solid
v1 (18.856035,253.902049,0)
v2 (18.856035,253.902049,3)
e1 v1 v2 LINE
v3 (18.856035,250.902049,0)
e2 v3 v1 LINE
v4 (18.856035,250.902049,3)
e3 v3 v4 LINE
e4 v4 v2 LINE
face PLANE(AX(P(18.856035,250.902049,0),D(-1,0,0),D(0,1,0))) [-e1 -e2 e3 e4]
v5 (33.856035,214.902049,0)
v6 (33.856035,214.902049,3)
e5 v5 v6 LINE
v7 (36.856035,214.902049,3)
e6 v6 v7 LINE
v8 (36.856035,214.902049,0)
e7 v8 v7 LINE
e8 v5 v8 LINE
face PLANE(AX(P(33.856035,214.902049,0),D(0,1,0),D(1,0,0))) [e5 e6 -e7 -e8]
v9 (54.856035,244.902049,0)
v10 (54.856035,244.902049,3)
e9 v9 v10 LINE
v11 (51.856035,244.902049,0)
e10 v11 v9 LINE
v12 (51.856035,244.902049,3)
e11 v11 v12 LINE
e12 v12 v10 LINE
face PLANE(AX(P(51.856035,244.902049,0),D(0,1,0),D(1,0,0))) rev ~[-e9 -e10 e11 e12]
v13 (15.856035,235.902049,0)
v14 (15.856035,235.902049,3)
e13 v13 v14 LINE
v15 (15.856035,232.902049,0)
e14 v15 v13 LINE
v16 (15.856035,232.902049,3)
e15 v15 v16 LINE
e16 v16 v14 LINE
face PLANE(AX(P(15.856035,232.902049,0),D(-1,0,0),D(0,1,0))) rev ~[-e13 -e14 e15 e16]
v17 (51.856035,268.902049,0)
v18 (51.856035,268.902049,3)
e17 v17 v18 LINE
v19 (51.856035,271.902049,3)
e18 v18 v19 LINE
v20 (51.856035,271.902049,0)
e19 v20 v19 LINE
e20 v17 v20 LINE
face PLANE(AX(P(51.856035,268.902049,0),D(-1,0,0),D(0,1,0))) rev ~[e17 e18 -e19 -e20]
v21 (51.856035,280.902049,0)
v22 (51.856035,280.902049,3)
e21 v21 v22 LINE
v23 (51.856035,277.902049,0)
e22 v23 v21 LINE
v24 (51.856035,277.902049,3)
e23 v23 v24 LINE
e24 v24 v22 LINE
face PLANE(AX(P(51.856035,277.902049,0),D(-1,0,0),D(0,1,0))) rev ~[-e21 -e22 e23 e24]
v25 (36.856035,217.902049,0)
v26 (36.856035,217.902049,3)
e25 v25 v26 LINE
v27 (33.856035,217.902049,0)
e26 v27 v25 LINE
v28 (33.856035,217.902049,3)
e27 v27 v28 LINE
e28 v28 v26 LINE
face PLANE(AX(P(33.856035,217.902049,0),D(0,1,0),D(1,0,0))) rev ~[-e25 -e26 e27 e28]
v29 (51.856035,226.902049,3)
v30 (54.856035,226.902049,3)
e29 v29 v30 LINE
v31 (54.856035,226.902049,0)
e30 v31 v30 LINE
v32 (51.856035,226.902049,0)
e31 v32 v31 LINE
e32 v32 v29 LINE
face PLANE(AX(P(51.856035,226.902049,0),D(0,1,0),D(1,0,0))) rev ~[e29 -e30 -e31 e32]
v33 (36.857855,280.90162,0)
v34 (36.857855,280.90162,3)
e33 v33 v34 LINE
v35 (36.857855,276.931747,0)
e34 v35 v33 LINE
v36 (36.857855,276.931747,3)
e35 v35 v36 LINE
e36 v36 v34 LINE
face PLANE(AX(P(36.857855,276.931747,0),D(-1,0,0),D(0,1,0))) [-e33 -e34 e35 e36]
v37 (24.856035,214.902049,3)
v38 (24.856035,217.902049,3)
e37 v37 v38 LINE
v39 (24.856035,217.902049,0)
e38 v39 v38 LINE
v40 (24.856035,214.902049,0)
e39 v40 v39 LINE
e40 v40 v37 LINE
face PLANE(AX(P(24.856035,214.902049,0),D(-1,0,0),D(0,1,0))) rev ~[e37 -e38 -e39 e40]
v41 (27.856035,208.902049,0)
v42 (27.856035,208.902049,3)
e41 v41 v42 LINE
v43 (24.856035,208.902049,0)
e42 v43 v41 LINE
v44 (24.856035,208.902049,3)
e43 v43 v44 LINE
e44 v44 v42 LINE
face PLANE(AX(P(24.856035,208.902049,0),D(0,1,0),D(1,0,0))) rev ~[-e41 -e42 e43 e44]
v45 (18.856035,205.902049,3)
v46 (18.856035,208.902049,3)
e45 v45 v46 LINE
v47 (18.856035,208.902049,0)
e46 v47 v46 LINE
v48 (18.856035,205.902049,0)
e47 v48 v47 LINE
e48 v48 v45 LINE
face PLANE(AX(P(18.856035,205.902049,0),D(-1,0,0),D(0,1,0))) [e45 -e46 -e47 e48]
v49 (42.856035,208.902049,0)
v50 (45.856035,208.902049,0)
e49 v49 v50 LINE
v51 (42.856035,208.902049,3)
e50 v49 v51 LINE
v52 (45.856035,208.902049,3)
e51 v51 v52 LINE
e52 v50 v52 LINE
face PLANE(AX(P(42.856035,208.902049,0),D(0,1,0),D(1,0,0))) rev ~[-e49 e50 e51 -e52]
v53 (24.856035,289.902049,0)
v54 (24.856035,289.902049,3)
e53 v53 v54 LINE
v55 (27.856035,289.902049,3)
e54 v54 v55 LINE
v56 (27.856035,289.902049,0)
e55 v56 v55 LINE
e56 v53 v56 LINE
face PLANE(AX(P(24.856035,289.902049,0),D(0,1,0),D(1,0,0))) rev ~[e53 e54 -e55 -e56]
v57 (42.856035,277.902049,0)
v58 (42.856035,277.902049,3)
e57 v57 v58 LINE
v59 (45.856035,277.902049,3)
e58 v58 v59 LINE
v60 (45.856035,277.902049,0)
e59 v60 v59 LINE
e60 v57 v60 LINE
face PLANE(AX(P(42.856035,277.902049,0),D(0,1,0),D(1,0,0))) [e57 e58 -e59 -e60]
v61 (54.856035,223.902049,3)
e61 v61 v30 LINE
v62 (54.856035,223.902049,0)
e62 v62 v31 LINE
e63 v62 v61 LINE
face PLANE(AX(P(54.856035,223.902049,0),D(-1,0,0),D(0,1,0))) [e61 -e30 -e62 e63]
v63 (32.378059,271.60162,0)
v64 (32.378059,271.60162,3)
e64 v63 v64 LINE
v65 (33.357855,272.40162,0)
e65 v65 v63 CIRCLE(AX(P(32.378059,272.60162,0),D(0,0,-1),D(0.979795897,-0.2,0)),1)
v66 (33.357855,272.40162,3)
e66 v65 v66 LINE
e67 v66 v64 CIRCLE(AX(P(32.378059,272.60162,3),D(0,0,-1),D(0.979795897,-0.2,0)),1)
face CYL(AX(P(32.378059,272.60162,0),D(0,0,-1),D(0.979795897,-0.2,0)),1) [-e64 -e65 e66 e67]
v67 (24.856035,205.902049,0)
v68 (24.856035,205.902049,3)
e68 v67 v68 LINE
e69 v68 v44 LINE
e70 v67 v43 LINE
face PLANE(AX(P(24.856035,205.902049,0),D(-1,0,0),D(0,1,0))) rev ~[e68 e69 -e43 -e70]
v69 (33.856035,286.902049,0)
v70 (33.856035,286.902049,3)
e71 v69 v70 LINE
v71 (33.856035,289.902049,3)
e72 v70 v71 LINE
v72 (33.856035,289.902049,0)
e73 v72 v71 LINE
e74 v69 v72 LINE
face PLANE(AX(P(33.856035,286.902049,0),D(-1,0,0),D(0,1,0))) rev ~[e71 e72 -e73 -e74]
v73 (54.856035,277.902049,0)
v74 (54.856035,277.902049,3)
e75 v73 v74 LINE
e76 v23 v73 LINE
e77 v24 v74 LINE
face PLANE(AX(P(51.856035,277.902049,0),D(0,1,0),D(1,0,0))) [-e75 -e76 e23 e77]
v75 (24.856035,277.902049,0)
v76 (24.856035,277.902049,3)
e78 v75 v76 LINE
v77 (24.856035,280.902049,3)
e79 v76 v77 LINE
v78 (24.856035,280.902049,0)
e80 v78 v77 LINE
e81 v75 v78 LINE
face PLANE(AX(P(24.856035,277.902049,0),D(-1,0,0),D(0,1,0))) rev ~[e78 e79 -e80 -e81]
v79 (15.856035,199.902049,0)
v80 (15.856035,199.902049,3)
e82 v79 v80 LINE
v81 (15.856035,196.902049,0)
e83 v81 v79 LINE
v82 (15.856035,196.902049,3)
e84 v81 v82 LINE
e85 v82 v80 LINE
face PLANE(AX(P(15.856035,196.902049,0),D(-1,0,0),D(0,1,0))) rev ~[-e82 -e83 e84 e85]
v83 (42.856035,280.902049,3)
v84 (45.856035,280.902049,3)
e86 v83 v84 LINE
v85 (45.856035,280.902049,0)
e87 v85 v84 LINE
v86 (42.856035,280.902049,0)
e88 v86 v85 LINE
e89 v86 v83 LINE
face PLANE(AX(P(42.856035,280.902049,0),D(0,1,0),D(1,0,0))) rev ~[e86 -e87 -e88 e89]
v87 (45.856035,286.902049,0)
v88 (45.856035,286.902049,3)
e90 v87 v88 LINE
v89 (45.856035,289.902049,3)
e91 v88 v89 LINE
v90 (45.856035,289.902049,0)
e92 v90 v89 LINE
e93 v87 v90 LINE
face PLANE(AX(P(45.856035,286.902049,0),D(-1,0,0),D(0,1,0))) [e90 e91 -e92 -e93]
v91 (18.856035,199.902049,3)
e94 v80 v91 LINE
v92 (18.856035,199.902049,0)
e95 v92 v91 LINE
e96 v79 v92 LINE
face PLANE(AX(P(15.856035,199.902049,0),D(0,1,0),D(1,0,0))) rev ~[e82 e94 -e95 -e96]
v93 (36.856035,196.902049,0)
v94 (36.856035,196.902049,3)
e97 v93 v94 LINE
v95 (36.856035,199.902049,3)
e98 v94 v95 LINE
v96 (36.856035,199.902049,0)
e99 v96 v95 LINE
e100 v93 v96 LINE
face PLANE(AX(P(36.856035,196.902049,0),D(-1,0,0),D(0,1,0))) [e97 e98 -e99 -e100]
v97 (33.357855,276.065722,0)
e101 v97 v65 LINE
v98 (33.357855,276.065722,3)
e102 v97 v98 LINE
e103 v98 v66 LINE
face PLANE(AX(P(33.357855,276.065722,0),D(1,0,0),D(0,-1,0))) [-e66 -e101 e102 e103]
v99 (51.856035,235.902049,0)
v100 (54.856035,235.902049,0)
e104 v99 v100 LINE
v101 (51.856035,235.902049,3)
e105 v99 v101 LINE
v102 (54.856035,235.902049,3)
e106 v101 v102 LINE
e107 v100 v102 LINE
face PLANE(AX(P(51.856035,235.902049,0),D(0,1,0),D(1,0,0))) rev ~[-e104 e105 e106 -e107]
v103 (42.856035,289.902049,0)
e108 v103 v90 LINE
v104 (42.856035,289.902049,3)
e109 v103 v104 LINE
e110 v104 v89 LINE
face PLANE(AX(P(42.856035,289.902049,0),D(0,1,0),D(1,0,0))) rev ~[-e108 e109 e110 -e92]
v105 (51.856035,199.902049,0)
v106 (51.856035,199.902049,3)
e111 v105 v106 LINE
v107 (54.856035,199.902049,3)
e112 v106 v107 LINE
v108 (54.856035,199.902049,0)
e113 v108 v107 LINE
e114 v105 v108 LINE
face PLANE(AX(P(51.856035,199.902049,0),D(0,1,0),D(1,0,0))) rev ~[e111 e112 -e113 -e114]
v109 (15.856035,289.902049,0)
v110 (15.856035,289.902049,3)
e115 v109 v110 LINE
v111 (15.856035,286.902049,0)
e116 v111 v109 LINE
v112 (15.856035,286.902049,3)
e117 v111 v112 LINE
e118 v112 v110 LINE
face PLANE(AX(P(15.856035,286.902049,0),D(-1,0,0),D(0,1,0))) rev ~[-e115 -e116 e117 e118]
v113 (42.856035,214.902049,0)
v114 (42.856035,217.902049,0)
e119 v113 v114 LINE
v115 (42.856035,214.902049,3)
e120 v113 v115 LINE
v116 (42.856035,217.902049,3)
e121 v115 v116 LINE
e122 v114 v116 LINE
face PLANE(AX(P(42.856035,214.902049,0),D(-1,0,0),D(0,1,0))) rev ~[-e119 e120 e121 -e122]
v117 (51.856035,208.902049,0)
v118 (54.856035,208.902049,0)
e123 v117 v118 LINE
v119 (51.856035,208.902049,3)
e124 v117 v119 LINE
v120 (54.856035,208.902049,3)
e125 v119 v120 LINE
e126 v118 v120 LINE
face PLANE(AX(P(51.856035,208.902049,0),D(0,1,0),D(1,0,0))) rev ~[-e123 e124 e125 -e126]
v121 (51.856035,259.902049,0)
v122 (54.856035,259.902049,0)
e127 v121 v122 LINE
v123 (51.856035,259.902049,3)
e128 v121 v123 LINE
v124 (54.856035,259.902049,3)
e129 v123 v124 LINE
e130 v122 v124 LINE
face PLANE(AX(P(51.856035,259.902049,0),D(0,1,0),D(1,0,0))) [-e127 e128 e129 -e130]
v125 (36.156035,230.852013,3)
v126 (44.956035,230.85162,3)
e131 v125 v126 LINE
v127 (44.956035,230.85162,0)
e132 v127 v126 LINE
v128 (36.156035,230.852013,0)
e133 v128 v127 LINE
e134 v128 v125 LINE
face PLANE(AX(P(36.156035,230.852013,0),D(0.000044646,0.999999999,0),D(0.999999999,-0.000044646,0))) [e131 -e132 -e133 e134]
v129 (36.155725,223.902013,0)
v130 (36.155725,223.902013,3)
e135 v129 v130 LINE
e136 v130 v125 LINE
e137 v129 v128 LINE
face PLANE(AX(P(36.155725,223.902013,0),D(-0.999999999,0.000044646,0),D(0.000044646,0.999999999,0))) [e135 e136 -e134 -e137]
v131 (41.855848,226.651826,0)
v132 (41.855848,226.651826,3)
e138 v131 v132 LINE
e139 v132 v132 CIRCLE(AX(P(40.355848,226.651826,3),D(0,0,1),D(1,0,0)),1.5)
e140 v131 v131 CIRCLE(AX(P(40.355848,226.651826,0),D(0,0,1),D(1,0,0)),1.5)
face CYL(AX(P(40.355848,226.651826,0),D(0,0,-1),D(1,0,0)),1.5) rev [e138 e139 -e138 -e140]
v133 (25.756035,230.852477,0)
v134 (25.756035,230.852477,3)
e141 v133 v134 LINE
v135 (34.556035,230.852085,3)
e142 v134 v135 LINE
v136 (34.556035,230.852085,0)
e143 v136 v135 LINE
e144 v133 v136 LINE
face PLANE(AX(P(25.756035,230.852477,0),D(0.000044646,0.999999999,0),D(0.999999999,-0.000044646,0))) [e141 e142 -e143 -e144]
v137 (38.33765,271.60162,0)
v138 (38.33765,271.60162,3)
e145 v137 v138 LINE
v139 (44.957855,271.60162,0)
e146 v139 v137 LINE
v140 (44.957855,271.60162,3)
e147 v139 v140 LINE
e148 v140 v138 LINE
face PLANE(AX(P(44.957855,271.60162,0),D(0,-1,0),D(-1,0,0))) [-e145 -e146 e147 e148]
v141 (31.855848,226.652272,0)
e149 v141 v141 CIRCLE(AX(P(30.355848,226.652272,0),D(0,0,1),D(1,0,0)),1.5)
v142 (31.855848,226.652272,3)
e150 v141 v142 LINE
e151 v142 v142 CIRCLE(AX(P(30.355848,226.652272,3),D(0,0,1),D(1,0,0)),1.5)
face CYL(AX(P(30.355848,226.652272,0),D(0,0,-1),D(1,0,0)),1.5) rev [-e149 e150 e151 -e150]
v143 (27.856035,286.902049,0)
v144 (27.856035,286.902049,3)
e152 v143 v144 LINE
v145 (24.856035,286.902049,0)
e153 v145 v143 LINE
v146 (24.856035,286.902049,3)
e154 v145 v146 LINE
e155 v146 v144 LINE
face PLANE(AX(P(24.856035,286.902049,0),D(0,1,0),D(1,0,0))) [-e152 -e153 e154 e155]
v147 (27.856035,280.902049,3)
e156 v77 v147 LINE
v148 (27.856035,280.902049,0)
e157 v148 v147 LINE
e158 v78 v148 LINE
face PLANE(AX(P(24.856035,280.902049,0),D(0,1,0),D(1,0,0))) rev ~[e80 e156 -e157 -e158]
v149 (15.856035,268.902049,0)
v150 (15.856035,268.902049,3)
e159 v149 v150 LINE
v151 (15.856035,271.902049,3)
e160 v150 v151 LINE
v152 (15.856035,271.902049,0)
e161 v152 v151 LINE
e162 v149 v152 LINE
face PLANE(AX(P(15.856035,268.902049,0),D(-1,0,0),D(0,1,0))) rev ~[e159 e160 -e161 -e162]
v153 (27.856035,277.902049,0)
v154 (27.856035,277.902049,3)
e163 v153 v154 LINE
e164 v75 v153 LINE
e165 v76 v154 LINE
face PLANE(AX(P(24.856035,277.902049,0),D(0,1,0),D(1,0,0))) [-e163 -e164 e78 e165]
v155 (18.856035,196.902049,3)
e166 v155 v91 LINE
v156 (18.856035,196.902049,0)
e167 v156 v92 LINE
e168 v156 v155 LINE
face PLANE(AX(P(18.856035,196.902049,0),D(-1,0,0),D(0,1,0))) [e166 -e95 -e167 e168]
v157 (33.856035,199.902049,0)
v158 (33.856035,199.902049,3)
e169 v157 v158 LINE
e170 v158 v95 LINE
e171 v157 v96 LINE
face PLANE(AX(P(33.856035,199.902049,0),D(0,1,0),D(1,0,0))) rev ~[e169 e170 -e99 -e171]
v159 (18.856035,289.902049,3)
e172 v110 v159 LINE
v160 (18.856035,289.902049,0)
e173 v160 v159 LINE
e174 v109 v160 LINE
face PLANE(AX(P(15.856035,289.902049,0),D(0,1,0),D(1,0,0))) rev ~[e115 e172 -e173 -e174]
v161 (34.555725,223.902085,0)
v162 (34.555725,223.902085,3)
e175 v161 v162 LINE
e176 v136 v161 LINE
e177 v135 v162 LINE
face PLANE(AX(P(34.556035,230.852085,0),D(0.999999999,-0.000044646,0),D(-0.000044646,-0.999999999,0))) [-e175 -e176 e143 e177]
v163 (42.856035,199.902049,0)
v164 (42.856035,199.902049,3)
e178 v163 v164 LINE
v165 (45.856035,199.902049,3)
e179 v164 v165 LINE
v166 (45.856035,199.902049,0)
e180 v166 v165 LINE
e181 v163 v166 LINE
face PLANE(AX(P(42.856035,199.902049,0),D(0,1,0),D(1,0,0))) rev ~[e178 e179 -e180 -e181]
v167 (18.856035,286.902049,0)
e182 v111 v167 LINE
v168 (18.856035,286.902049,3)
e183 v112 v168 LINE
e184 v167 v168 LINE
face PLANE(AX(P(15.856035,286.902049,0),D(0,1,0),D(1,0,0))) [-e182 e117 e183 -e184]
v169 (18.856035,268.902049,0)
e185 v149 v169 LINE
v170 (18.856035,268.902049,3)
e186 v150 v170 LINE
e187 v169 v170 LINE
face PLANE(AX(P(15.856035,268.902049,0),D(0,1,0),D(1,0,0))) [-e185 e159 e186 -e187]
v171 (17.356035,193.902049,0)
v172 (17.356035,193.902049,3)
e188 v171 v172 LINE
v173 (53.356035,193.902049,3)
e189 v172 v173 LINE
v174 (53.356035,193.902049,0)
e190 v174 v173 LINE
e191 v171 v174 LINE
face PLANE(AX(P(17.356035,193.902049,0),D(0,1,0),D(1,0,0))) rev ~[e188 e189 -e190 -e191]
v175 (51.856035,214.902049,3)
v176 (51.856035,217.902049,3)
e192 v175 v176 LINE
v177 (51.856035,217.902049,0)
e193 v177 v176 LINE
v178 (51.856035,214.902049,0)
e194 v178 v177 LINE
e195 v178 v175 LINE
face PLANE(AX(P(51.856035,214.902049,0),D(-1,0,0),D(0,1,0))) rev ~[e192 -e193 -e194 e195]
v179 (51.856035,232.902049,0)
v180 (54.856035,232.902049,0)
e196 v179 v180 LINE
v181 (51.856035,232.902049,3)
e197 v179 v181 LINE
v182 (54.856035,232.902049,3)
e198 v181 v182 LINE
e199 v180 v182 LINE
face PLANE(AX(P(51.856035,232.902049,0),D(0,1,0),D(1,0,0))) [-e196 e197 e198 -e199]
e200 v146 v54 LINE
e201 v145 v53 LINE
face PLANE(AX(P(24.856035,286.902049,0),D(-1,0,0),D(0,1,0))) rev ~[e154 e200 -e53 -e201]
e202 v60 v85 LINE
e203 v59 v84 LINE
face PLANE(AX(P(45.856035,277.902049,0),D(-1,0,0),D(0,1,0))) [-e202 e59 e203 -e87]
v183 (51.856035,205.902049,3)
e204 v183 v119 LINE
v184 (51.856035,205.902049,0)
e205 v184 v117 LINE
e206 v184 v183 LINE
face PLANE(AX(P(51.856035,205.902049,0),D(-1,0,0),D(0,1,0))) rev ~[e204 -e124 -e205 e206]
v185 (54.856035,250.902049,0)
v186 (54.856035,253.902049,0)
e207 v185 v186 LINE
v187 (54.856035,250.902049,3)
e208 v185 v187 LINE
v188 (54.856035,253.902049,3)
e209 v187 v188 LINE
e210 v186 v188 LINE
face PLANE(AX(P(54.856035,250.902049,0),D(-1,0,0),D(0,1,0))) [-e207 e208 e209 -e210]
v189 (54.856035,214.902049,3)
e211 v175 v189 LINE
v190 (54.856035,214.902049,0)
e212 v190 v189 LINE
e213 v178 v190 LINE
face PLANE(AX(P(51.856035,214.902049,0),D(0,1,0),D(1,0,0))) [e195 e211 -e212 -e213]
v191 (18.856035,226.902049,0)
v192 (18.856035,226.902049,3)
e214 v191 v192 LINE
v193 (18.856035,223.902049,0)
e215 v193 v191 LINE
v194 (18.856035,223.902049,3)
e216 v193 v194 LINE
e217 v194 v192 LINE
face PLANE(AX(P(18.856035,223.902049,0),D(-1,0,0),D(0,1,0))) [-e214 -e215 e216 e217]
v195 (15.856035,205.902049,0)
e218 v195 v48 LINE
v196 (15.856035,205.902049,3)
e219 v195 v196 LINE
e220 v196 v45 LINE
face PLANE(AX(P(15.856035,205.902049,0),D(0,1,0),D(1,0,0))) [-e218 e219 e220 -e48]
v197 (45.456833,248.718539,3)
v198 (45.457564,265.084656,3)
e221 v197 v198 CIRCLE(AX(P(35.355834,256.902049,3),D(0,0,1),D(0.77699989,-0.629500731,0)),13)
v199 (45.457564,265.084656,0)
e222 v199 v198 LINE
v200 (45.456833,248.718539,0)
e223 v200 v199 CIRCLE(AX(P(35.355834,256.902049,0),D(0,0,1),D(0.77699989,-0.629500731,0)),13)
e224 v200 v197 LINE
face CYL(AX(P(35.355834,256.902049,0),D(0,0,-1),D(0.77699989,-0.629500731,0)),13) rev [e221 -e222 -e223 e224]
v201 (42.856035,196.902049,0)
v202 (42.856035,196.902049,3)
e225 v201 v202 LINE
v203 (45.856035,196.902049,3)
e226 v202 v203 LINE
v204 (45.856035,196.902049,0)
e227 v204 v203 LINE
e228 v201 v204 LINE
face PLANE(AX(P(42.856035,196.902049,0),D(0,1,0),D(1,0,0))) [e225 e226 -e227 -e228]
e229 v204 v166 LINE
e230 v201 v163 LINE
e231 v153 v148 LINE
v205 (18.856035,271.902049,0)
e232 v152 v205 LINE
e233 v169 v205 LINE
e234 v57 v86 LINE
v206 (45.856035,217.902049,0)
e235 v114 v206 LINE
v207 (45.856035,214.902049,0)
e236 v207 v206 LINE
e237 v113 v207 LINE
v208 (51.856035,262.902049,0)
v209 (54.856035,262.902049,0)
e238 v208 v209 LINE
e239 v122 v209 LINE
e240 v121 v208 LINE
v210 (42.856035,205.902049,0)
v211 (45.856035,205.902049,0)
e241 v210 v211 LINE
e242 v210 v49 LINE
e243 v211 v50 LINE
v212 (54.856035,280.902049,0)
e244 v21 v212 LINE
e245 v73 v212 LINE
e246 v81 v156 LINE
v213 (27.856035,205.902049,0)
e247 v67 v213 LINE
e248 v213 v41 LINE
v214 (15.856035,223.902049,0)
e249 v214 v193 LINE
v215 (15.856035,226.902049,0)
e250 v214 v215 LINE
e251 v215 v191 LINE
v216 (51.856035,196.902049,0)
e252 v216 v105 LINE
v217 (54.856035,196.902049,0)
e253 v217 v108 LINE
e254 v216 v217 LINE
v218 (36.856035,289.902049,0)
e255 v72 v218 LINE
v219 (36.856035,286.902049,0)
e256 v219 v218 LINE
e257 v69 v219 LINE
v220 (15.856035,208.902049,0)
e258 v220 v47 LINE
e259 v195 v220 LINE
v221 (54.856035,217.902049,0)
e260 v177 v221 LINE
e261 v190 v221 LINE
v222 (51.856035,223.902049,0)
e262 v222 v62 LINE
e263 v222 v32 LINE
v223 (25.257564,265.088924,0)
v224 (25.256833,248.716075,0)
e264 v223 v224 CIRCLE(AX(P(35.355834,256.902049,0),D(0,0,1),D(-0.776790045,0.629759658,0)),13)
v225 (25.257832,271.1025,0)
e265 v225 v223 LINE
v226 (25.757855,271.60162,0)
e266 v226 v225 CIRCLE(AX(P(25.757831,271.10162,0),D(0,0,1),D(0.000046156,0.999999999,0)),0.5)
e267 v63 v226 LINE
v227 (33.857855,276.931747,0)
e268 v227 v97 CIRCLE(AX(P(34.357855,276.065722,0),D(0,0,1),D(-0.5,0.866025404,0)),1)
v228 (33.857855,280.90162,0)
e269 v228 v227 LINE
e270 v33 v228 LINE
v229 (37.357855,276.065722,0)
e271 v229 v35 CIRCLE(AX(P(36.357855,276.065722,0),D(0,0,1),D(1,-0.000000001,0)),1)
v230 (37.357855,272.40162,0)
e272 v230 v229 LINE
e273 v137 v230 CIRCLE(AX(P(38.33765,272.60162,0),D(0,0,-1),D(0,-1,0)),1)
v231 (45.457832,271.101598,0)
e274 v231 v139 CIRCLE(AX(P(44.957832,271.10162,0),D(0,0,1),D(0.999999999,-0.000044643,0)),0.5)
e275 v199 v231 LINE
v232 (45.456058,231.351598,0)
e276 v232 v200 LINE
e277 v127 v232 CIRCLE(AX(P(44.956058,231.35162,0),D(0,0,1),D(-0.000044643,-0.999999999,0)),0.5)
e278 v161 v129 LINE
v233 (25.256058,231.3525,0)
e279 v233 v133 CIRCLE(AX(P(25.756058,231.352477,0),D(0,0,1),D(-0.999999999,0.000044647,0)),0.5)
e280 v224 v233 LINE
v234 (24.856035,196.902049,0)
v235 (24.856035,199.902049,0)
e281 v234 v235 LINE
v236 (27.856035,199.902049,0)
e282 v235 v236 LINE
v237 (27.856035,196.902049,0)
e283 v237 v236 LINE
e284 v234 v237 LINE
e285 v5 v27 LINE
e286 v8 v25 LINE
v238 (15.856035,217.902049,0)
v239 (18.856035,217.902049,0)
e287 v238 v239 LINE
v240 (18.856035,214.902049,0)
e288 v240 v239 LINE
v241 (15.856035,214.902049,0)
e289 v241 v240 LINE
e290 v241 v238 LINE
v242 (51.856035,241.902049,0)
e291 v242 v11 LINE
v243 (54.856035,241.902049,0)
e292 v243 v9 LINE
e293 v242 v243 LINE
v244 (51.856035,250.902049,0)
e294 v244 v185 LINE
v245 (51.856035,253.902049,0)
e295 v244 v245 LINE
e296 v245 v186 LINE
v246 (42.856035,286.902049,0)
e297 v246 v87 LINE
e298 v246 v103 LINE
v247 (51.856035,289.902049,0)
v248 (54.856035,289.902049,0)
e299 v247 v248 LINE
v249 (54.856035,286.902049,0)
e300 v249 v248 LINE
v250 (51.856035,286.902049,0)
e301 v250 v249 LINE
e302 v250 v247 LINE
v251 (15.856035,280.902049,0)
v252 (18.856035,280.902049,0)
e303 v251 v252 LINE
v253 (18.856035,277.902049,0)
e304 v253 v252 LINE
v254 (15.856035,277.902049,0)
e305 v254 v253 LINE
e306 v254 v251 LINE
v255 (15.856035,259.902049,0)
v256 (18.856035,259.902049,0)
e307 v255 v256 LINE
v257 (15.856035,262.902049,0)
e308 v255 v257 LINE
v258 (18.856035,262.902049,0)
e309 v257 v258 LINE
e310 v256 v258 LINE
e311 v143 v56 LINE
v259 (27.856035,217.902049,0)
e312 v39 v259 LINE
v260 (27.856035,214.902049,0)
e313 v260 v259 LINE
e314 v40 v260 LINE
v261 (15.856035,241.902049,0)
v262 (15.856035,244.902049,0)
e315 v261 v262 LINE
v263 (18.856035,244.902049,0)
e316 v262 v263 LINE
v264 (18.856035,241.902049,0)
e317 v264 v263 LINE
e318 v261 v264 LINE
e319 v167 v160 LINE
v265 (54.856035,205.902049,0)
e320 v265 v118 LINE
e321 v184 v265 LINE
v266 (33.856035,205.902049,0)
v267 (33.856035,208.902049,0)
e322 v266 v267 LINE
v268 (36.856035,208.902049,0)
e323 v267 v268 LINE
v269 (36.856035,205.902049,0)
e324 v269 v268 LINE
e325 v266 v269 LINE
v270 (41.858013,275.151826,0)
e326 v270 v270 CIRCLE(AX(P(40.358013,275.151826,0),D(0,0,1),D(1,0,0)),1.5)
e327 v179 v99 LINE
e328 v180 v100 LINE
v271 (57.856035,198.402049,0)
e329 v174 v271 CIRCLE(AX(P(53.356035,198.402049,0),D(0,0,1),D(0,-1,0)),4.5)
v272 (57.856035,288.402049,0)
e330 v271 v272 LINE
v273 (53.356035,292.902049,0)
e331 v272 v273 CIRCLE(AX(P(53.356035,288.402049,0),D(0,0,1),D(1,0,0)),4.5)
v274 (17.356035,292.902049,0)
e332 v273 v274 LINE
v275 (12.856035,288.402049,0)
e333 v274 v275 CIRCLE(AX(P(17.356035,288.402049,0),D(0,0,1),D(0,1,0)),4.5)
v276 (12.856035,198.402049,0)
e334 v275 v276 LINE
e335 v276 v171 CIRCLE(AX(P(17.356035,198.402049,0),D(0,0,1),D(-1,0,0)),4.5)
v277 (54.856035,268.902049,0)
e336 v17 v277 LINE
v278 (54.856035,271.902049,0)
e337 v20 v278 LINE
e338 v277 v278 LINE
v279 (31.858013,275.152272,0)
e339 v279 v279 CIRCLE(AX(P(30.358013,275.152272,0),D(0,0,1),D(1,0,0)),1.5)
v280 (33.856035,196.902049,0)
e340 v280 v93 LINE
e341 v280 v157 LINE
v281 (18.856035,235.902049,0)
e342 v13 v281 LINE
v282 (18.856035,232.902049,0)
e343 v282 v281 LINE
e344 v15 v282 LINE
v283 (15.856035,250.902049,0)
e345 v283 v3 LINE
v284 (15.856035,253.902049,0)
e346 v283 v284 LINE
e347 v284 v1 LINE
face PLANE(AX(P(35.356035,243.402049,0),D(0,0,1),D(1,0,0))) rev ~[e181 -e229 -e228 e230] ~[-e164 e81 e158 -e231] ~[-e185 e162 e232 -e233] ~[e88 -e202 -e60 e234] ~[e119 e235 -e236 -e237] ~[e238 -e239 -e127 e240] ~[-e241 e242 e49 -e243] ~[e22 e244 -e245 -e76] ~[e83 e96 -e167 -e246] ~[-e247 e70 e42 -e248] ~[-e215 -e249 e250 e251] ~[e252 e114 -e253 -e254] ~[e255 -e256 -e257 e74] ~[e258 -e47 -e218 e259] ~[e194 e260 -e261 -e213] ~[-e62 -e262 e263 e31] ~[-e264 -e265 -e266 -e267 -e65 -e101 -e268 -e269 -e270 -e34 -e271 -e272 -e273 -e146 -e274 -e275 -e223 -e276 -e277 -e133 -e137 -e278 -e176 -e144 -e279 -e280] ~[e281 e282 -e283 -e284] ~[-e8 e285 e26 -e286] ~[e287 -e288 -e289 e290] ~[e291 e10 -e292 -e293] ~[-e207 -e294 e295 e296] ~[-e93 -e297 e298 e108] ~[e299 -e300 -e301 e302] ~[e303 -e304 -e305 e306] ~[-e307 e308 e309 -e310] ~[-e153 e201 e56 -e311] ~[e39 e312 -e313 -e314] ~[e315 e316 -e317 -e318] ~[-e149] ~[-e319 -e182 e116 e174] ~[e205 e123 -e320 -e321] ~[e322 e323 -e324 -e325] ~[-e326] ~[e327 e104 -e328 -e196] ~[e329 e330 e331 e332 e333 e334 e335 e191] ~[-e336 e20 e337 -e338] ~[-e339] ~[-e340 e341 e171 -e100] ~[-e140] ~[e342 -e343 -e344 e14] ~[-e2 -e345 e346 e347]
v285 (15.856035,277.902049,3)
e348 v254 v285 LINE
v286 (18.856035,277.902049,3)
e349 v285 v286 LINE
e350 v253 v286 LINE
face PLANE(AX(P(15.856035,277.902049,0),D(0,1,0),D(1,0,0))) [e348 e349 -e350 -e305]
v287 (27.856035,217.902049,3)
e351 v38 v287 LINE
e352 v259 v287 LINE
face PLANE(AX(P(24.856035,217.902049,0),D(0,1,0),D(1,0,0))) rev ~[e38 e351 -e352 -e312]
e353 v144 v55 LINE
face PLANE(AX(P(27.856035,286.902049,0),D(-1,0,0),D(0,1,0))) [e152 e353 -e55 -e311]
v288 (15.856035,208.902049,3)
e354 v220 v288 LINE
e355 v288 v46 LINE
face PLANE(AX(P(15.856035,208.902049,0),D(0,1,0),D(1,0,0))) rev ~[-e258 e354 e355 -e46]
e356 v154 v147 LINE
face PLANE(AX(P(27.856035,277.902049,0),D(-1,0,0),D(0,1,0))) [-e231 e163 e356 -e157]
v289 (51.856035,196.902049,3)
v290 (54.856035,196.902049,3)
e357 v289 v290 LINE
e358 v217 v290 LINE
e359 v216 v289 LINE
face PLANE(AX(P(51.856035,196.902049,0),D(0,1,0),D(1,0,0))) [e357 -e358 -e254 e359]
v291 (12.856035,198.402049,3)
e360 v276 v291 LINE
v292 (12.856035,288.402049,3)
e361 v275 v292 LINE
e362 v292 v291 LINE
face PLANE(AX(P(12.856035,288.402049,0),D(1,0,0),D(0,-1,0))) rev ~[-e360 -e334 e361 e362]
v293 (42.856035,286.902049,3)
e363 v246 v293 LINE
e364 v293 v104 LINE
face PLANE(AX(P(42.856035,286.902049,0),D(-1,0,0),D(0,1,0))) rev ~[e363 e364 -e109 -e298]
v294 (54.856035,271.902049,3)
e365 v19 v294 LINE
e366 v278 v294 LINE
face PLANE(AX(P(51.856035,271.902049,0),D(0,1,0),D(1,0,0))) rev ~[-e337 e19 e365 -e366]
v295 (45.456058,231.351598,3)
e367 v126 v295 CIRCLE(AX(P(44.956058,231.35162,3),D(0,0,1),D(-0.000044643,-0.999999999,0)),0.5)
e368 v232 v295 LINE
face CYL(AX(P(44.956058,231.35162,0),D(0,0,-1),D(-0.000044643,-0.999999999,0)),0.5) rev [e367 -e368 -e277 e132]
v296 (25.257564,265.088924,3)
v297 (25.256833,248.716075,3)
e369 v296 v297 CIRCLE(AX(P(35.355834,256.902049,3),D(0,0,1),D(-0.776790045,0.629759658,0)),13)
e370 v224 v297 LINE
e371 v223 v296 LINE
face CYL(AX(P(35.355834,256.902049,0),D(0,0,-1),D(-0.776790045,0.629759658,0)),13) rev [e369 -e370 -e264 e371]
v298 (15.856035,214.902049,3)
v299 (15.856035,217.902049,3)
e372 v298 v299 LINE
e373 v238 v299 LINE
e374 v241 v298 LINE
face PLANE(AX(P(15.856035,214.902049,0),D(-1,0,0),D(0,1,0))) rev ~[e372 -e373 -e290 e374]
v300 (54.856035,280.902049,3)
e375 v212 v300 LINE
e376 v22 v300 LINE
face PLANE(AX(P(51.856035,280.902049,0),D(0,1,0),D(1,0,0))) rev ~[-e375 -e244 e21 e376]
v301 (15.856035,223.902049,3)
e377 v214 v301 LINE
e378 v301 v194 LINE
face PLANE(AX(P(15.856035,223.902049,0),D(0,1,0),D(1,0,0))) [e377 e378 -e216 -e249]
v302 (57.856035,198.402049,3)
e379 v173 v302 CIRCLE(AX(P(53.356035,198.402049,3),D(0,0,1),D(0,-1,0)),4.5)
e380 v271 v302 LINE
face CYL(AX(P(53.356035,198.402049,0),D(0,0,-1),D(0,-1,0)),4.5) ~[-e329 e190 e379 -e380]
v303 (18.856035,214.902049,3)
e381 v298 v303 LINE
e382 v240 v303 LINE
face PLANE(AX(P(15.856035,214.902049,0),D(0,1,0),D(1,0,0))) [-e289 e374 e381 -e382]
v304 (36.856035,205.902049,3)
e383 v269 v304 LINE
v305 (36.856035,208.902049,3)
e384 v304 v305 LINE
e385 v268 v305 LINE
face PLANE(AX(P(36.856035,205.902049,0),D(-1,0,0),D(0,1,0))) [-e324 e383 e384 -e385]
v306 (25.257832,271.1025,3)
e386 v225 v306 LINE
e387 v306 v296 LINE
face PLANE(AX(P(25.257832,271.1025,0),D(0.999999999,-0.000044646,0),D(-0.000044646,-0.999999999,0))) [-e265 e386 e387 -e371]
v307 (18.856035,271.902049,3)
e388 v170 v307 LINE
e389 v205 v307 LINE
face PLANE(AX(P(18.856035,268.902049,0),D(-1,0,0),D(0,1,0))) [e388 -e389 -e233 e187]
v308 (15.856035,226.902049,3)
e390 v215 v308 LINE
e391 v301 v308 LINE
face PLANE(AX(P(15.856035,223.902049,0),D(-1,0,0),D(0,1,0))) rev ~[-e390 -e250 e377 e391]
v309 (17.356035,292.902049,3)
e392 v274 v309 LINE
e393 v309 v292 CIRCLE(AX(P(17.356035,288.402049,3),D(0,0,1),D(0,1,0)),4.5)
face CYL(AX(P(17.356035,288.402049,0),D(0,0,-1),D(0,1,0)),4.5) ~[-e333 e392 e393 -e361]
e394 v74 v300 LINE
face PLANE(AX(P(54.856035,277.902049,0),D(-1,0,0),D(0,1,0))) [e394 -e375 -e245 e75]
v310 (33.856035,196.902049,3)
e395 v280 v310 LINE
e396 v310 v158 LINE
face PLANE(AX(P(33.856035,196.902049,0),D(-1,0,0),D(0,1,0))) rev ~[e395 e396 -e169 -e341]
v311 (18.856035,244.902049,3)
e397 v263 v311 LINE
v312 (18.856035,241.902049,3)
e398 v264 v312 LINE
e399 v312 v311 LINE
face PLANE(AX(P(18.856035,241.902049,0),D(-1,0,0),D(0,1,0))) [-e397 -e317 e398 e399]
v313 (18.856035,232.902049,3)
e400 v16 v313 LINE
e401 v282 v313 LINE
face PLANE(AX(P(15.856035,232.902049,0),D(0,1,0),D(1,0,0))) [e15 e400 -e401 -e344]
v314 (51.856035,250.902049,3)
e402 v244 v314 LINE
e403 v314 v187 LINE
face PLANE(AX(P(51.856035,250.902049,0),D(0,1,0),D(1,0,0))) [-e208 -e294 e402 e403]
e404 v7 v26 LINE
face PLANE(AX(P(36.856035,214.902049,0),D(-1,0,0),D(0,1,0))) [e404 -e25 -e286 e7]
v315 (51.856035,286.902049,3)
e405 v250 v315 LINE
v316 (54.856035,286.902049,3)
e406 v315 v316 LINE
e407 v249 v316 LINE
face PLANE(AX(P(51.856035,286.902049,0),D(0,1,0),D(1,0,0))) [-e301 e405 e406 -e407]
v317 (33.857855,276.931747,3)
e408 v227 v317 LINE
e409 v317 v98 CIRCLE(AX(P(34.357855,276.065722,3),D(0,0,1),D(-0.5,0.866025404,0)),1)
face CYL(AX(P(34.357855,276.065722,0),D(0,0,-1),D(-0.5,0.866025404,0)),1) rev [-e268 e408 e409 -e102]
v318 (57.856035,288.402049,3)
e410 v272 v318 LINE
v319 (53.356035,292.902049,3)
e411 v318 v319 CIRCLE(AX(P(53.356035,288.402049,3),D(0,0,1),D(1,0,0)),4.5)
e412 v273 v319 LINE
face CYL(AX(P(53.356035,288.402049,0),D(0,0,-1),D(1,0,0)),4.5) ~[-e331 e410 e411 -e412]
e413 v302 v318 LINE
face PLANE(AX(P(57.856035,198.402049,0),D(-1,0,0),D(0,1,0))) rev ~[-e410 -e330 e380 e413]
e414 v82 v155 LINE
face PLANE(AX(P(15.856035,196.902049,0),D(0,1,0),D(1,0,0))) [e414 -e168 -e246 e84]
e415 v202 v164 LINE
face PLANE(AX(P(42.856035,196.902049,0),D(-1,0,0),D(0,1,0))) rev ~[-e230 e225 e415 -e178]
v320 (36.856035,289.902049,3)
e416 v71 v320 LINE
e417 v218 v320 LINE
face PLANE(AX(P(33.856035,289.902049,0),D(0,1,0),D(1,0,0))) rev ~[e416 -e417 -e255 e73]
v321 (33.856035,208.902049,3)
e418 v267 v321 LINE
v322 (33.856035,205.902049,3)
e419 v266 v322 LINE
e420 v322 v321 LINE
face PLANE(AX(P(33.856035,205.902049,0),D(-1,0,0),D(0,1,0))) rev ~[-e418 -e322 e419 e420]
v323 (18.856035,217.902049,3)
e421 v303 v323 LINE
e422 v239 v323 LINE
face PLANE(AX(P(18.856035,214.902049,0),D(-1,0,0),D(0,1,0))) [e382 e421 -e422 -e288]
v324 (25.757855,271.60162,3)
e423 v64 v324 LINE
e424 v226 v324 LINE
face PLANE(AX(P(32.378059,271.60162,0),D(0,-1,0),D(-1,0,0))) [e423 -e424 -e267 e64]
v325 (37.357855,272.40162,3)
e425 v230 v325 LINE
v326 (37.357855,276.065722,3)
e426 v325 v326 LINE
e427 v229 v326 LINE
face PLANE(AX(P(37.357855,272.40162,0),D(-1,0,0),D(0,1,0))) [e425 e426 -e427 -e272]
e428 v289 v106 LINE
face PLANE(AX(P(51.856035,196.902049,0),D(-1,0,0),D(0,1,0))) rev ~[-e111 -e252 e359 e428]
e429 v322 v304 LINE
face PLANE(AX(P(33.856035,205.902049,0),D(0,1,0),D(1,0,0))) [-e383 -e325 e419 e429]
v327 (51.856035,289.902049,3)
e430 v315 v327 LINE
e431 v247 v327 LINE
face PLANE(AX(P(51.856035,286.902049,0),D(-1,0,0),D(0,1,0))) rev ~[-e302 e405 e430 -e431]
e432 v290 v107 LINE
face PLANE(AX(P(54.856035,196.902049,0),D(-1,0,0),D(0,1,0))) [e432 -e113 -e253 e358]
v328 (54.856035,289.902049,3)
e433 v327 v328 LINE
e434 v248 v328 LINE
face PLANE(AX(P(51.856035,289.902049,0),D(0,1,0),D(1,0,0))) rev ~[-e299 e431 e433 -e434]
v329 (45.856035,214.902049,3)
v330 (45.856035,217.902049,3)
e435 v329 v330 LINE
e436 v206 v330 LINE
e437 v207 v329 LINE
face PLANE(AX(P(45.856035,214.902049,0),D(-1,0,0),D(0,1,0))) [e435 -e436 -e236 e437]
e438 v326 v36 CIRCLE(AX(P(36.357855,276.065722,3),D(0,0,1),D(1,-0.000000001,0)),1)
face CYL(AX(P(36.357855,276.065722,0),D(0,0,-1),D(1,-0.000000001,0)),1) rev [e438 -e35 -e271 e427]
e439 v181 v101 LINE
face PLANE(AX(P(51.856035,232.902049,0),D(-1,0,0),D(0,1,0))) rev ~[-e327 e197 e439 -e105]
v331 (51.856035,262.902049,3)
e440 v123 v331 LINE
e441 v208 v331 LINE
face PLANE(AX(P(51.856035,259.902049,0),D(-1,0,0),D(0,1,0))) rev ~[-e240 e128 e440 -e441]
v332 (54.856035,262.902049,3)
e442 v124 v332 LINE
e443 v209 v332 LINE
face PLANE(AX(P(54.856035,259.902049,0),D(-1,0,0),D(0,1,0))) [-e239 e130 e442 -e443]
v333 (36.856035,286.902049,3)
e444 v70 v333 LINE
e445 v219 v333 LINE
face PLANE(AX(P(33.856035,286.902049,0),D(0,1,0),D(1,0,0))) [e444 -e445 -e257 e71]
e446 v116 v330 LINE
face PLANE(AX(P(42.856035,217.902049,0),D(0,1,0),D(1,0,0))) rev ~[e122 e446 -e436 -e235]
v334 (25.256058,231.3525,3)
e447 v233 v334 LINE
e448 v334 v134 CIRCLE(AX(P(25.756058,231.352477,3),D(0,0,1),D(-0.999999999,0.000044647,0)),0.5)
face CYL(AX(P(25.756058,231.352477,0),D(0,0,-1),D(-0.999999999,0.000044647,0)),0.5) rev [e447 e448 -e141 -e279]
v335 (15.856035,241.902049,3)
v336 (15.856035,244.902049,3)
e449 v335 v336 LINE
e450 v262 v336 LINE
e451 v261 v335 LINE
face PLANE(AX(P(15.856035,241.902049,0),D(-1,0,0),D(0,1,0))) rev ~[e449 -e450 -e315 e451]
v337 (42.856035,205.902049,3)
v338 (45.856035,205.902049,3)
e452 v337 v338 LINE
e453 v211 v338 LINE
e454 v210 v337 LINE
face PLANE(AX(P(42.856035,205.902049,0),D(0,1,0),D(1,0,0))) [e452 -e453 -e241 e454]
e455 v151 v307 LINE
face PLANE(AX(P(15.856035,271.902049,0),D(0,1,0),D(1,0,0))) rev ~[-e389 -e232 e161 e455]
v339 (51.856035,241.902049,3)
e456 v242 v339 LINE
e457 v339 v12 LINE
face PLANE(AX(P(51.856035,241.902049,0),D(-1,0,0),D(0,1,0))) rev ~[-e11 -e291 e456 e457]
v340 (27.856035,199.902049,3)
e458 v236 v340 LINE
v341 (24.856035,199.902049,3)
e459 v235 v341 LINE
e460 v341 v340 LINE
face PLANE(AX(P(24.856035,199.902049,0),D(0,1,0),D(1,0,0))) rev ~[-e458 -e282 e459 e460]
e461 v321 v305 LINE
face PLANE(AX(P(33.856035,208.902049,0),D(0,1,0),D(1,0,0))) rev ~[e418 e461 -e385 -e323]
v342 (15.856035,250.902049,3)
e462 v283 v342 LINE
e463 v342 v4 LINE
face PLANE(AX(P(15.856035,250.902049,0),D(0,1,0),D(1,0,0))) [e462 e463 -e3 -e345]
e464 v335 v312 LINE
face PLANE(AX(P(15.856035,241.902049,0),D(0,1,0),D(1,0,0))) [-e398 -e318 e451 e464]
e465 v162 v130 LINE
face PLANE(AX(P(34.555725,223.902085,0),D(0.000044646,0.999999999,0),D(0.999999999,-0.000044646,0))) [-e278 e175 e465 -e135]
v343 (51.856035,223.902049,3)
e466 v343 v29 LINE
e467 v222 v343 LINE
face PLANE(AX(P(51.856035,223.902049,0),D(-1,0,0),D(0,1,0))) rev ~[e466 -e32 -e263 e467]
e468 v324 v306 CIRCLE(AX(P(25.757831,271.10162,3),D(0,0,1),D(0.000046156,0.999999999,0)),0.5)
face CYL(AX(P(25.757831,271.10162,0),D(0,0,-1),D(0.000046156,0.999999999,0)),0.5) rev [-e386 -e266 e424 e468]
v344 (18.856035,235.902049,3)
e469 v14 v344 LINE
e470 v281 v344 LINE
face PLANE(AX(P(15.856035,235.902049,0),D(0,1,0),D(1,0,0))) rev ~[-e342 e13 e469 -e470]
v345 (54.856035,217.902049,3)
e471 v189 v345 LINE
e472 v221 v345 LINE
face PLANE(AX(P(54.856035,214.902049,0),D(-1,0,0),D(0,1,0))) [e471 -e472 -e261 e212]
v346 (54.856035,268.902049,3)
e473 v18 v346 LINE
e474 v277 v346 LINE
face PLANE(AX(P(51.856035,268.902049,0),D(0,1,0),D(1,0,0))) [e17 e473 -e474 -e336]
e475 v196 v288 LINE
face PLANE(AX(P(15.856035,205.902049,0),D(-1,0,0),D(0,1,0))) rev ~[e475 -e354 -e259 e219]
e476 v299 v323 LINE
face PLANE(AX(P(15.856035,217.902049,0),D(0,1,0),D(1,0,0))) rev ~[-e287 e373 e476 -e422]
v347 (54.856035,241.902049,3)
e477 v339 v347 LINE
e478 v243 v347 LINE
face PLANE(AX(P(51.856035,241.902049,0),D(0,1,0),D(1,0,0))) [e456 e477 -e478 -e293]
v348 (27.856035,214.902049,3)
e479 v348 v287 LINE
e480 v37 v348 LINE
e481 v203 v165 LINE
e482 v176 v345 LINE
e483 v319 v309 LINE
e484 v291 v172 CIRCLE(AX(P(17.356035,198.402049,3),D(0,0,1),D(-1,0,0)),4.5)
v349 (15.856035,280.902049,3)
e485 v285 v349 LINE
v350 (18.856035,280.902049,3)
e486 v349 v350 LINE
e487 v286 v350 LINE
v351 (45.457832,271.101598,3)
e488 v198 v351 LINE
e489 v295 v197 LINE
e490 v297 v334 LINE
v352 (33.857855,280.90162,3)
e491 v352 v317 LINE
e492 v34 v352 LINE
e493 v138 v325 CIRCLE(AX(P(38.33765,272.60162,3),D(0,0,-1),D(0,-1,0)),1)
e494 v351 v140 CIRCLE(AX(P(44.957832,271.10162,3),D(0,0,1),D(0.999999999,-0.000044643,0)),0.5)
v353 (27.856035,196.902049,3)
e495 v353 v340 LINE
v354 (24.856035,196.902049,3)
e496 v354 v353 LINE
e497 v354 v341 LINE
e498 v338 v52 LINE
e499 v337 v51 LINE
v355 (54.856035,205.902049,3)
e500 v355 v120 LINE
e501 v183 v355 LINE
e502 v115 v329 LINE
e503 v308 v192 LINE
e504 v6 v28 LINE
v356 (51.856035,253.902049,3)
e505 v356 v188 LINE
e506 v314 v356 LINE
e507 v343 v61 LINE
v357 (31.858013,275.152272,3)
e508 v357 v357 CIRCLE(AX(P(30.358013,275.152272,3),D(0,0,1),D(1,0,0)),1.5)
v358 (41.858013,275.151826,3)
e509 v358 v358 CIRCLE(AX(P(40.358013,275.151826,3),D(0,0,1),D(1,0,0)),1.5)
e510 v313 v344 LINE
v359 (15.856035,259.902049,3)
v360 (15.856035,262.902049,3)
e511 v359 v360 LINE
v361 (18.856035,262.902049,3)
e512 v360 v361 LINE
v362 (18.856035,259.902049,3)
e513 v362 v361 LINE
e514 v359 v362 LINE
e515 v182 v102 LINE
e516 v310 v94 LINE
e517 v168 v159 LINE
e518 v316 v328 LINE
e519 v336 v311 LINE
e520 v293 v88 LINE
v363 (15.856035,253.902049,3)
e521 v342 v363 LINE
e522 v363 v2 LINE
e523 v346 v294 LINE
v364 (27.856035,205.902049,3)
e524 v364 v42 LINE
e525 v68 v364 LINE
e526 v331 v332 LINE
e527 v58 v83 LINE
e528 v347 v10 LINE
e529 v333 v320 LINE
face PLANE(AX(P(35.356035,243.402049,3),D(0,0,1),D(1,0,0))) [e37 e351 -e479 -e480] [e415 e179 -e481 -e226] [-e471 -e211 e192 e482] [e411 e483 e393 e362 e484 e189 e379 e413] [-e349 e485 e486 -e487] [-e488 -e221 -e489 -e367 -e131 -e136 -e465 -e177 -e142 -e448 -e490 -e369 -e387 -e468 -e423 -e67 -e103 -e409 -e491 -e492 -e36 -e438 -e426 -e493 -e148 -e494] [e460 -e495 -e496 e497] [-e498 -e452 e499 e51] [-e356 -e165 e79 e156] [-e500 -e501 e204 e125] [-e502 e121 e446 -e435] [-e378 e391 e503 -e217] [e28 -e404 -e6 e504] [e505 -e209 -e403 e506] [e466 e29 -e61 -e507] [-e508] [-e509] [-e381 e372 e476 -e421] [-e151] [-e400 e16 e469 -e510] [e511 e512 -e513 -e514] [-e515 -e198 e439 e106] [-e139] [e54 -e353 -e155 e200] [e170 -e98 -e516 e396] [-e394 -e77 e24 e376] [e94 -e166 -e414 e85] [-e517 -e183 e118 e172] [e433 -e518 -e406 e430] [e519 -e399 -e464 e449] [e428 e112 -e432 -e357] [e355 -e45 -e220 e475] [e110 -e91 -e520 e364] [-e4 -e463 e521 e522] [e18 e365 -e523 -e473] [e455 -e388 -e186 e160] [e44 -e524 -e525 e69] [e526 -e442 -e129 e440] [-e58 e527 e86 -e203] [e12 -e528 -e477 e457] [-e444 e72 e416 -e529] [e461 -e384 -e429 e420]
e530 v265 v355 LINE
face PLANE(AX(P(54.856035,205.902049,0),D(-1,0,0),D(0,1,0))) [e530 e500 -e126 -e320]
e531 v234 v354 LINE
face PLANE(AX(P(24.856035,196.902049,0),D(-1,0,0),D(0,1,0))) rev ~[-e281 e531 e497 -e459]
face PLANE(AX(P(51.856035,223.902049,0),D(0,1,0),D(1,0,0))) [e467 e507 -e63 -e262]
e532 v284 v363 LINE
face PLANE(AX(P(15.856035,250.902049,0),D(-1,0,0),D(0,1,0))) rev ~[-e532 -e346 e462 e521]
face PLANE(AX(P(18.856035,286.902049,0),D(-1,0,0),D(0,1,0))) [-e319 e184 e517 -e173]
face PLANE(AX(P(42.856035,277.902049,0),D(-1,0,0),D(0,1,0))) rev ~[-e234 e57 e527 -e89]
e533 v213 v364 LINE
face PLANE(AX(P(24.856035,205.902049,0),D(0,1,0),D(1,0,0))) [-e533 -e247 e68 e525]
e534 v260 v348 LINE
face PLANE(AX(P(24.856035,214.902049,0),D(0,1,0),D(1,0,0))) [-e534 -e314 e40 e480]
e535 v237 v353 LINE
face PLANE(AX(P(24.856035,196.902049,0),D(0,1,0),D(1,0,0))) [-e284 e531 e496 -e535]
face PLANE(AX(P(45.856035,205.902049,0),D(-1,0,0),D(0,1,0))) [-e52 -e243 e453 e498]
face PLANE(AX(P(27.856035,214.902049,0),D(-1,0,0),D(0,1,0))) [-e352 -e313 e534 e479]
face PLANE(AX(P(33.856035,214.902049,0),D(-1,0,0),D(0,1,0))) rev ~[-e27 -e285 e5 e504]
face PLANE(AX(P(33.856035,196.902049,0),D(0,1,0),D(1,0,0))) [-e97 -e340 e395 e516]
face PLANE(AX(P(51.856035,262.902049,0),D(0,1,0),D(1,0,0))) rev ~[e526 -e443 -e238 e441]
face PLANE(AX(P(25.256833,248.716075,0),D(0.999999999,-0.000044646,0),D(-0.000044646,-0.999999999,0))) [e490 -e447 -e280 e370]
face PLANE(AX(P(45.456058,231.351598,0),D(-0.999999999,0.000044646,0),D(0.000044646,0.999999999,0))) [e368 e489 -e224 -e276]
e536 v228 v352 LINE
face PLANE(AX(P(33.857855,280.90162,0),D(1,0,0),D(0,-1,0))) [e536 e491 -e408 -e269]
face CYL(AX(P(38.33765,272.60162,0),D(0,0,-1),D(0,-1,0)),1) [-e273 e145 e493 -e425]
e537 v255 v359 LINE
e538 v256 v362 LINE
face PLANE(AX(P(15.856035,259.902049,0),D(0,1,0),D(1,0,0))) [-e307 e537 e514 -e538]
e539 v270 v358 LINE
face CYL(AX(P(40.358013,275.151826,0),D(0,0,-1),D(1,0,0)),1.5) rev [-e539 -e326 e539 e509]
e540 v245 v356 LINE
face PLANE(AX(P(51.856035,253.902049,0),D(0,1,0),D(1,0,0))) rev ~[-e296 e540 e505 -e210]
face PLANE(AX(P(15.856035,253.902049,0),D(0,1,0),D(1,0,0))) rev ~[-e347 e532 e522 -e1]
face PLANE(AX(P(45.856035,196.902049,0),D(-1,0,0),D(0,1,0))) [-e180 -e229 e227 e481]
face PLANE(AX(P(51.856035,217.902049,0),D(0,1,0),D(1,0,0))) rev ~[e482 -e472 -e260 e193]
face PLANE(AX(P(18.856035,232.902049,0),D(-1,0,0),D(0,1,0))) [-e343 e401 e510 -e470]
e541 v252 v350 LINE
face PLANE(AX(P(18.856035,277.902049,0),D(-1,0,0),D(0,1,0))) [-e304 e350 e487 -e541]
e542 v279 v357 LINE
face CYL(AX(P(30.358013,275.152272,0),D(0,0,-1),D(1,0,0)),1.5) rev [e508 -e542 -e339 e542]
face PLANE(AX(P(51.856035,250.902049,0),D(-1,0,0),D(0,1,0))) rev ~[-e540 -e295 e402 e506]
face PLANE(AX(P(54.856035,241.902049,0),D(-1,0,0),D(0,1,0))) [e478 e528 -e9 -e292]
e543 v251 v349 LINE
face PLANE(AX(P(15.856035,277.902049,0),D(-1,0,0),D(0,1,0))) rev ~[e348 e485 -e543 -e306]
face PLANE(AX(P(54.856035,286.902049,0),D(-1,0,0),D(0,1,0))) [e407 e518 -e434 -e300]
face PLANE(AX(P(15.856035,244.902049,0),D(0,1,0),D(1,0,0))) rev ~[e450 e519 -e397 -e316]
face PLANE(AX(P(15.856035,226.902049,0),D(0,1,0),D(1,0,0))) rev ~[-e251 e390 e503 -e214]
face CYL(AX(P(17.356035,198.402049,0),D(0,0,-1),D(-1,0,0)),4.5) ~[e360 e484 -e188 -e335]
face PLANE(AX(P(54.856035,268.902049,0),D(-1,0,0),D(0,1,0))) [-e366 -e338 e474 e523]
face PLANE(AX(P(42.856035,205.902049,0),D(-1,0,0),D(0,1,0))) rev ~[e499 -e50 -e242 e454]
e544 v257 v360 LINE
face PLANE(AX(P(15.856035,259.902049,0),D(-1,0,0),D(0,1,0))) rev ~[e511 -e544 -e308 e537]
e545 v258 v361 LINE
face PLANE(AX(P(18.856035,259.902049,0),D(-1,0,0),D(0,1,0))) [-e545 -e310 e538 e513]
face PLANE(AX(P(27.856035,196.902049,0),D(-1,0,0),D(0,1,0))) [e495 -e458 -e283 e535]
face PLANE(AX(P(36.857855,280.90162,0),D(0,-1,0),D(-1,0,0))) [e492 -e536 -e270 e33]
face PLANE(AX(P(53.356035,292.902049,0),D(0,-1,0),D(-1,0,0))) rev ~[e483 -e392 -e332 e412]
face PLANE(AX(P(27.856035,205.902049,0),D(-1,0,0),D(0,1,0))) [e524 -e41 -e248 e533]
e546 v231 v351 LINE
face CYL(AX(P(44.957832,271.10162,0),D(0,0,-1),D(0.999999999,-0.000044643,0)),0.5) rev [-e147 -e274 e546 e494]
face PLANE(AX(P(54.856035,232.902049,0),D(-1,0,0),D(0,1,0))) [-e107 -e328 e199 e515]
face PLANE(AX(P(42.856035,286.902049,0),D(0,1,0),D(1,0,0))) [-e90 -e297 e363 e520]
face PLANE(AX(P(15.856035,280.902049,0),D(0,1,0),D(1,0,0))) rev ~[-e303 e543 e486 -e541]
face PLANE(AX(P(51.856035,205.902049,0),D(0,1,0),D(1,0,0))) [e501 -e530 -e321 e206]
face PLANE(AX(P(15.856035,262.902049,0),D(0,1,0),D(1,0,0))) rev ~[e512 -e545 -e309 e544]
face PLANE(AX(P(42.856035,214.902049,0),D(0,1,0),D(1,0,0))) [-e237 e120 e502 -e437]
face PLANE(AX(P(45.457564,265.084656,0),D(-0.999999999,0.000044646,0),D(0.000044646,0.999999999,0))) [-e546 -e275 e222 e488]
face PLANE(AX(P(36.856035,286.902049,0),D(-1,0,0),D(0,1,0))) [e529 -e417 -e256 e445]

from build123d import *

# Parameters (mm, degrees)
MODEL_R                 = 1.5
MODEL_W                 = 3
MODEL_H                 = 3
SALIENTE_EXTRUIR1_DEPTH = 3


with BuildPart() as part:
    # Model → Saliente-Extruir1 (new body)
    with BuildSketch(Plane.XY):
        with BuildLine():
            Line((17.356035274, 193.902048875), (53.356035274, 193.902048875))
            ThreePointArc((53.356035274, 193.902048875), (56.53801579, 195.22006836), (57.856035274, 198.402048875))
            Line((57.856035274, 198.402048875), (57.856035274, 288.402048875))
            ThreePointArc((57.856035274, 288.402048875), (56.53801579, 291.58402939), (53.356035274, 292.902048875))
            Line((53.356035274, 292.902048875), (17.356035274, 292.902048875))
            ThreePointArc((17.356035274, 292.902048875), (14.174054759, 291.58402939), (12.856035274, 288.402048875))
            Line((12.856035274, 288.402048875), (12.856035274, 198.402048875))
            ThreePointArc((12.856035274, 198.402048875), (14.174054759, 195.22006836), (17.356035274, 193.902048875))
        make_face()
        with Locations((40.355847758, 226.651825621)):
            Circle(MODEL_R, mode=Mode.SUBTRACT)
        with Locations((30.355847768, 226.652272077)):
            Circle(MODEL_R, mode=Mode.SUBTRACT)
        with Locations((40.358013069, 275.151825573)):
            Circle(MODEL_R, mode=Mode.SUBTRACT)
        with Locations((30.35801308, 275.152272029)):
            Circle(MODEL_R, mode=Mode.SUBTRACT)
        with Locations((53.356035274, 288.402048875)):
            Rectangle(MODEL_W, MODEL_H, mode=Mode.SUBTRACT)
        with Locations((53.356035274, 279.402048875)):
            Rectangle(MODEL_W, MODEL_H, mode=Mode.SUBTRACT)
        with Locations((53.356035274, 270.402048875)):
            Rectangle(MODEL_W, MODEL_H, mode=Mode.SUBTRACT)
        with Locations((53.356035274, 261.402048875)):
            Rectangle(MODEL_W, MODEL_H, mode=Mode.SUBTRACT)
        with Locations((53.356035274, 252.402048875)):
            Rectangle(MODEL_W, MODEL_H, mode=Mode.SUBTRACT)
        with Locations((53.356035274, 243.402048875)):
            Rectangle(MODEL_W, MODEL_H, mode=Mode.SUBTRACT)
        with Locations((53.356035274, 234.402048875)):
            Rectangle(MODEL_W, MODEL_H, mode=Mode.SUBTRACT)
        with Locations((53.356035274, 225.402048875)):
            Rectangle(MODEL_W, MODEL_H, mode=Mode.SUBTRACT)
        with Locations((53.356035274, 216.402048875)):
            Rectangle(MODEL_W, MODEL_H, mode=Mode.SUBTRACT)
        with Locations((53.356035274, 207.402048875)):
            Rectangle(MODEL_W, MODEL_H, mode=Mode.SUBTRACT)
        with Locations((53.356035274, 198.402048875)):
            Rectangle(MODEL_W, MODEL_H, mode=Mode.SUBTRACT)
        with Locations((17.356035274, 288.402048875)):
            Rectangle(MODEL_W, MODEL_H, mode=Mode.SUBTRACT)
        with Locations((17.356035274, 279.402048875)):
            Rectangle(MODEL_W, MODEL_H, mode=Mode.SUBTRACT)
        with Locations((17.356035274, 270.402048875)):
            Rectangle(MODEL_W, MODEL_H, mode=Mode.SUBTRACT)
        with Locations((17.356035274, 261.402048875)):
            Rectangle(MODEL_W, MODEL_H, mode=Mode.SUBTRACT)
        with Locations((17.356035274, 252.402048875)):
            Rectangle(MODEL_W, MODEL_H, mode=Mode.SUBTRACT)
        with Locations((17.356035274, 243.402048875)):
            Rectangle(MODEL_W, MODEL_H, mode=Mode.SUBTRACT)
        with Locations((17.356035274, 234.402048875)):
            Rectangle(MODEL_W, MODEL_H, mode=Mode.SUBTRACT)
        with Locations((17.356035274, 225.402048875)):
            Rectangle(MODEL_W, MODEL_H, mode=Mode.SUBTRACT)
        with Locations((17.356035274, 216.402048875)):
            Rectangle(MODEL_W, MODEL_H, mode=Mode.SUBTRACT)
        with Locations((17.356035274, 207.402048875)):
            Rectangle(MODEL_W, MODEL_H, mode=Mode.SUBTRACT)
        with Locations((17.356035274, 198.402048875)):
            Rectangle(MODEL_W, MODEL_H, mode=Mode.SUBTRACT)
        with Locations((44.356035274, 198.402048875)):
            Rectangle(MODEL_W, MODEL_H, mode=Mode.SUBTRACT)
        with Locations((26.356035274, 198.402048875)):
            Rectangle(MODEL_W, MODEL_H, mode=Mode.SUBTRACT)
        with Locations((35.356035274, 198.402048875)):
            Rectangle(MODEL_W, MODEL_H, mode=Mode.SUBTRACT)
        with Locations((44.356035274, 216.402048875)):
            Rectangle(MODEL_W, MODEL_H, mode=Mode.SUBTRACT)
        with Locations((26.356035274, 216.402048875)):
            Rectangle(MODEL_W, MODEL_H, mode=Mode.SUBTRACT)
        with Locations((35.356035274, 216.402048875)):
            Rectangle(MODEL_W, MODEL_H, mode=Mode.SUBTRACT)
        with Locations((44.356035274, 207.402048875)):
            Rectangle(MODEL_W, MODEL_H, mode=Mode.SUBTRACT)
        with Locations((26.356035274, 207.402048875)):
            Rectangle(MODEL_W, MODEL_H, mode=Mode.SUBTRACT)
        with Locations((35.356035274, 207.402048875)):
            Rectangle(MODEL_W, MODEL_H, mode=Mode.SUBTRACT)
        with Locations((44.356035274, 288.402048875)):
            Rectangle(MODEL_W, MODEL_H, mode=Mode.SUBTRACT)
        with Locations((26.356035274, 288.402048875)):
            Rectangle(MODEL_W, MODEL_H, mode=Mode.SUBTRACT)
        with Locations((35.356035274, 288.402048875)):
            Rectangle(MODEL_W, MODEL_H, mode=Mode.SUBTRACT)
        with Locations((44.356035274, 279.402048875)):
            Rectangle(MODEL_W, MODEL_H, mode=Mode.SUBTRACT)
        with Locations((26.356035274, 279.402048875)):
            Rectangle(MODEL_W, MODEL_H, mode=Mode.SUBTRACT)
        with BuildLine():
            Line((33.857854573, 280.901620206), (33.857854573, 276.931747225))
            ThreePointArc((33.857854573, 276.931747225), (33.491829169, 276.565721821), (33.357854573, 276.065721821))
            Line((33.357854573, 276.065721821), (33.357854573, 272.401620206))
            ThreePointArc((33.357854573, 272.401620206), (33.010514208, 271.827023537), (32.378058676, 271.601620206))
            Line((32.378058676, 271.601620206), (25.757854573, 271.601620206))
            ThreePointArc((25.757854573, 271.601620206), (25.404597365, 271.455492569), (25.25783227, 271.102499725))
            Line((25.25783227, 271.102499725), (25.25756379, 265.088924432))
            ThreePointArc((25.25756379, 265.088924432), (22.355834382, 256.902629272), (25.256832814, 248.716075046))
            Line((25.256832814, 248.716075046), (25.256057607, 231.352499765))
            ThreePointArc((25.256057607, 231.352499765), (25.402488432, 230.998939836), (25.756035284, 230.852477443))
            Line((25.756035284, 230.852477443), (34.556035275, 230.852084561))
            Line((34.556035275, 230.852084561), (34.555724988, 223.902084568))
            Line((34.555724988, 223.902084568), (36.155724986, 223.902013135))
            Line((36.155724986, 223.902013135), (36.156035273, 230.852013128))
            Line((36.156035273, 230.852013128), (44.956035265, 230.851620247))
            ThreePointArc((44.956035265, 230.851620247), (45.309595193, 230.998051072), (45.456057587, 231.351597924))
            Line((45.456057587, 231.351597924), (45.456832945, 248.718539377))
            ThreePointArc((45.456832945, 248.718539377), (48.355834356, 256.901468487), (45.45756362, 265.084656419))
            Line((45.45756362, 265.084656419), (45.45783225, 271.101597884))
            ThreePointArc((45.45783225, 271.101597884), (45.311401425, 271.455157812), (44.957854573, 271.601620206))
            Line((44.957854573, 271.601620206), (38.33765047, 271.601620206))
            ThreePointArc((38.33765047, 271.601620206), (37.705194938, 271.827023537), (37.357854573, 272.401620206))
            Line((37.357854573, 272.401620206), (37.357854573, 276.065721821))
            ThreePointArc((37.357854573, 276.065721821), (37.223879977, 276.565721821), (36.857854573, 276.931747225))
            Line((36.857854573, 276.931747225), (36.857854573, 280.901620206))
            Line((36.857854573, 280.901620206), (33.857854573, 280.901620206))
        make_face(mode=Mode.SUBTRACT)
    extrude(amount=SALIENTE_EXTRUIR1_DEPTH)


solid = part.part
